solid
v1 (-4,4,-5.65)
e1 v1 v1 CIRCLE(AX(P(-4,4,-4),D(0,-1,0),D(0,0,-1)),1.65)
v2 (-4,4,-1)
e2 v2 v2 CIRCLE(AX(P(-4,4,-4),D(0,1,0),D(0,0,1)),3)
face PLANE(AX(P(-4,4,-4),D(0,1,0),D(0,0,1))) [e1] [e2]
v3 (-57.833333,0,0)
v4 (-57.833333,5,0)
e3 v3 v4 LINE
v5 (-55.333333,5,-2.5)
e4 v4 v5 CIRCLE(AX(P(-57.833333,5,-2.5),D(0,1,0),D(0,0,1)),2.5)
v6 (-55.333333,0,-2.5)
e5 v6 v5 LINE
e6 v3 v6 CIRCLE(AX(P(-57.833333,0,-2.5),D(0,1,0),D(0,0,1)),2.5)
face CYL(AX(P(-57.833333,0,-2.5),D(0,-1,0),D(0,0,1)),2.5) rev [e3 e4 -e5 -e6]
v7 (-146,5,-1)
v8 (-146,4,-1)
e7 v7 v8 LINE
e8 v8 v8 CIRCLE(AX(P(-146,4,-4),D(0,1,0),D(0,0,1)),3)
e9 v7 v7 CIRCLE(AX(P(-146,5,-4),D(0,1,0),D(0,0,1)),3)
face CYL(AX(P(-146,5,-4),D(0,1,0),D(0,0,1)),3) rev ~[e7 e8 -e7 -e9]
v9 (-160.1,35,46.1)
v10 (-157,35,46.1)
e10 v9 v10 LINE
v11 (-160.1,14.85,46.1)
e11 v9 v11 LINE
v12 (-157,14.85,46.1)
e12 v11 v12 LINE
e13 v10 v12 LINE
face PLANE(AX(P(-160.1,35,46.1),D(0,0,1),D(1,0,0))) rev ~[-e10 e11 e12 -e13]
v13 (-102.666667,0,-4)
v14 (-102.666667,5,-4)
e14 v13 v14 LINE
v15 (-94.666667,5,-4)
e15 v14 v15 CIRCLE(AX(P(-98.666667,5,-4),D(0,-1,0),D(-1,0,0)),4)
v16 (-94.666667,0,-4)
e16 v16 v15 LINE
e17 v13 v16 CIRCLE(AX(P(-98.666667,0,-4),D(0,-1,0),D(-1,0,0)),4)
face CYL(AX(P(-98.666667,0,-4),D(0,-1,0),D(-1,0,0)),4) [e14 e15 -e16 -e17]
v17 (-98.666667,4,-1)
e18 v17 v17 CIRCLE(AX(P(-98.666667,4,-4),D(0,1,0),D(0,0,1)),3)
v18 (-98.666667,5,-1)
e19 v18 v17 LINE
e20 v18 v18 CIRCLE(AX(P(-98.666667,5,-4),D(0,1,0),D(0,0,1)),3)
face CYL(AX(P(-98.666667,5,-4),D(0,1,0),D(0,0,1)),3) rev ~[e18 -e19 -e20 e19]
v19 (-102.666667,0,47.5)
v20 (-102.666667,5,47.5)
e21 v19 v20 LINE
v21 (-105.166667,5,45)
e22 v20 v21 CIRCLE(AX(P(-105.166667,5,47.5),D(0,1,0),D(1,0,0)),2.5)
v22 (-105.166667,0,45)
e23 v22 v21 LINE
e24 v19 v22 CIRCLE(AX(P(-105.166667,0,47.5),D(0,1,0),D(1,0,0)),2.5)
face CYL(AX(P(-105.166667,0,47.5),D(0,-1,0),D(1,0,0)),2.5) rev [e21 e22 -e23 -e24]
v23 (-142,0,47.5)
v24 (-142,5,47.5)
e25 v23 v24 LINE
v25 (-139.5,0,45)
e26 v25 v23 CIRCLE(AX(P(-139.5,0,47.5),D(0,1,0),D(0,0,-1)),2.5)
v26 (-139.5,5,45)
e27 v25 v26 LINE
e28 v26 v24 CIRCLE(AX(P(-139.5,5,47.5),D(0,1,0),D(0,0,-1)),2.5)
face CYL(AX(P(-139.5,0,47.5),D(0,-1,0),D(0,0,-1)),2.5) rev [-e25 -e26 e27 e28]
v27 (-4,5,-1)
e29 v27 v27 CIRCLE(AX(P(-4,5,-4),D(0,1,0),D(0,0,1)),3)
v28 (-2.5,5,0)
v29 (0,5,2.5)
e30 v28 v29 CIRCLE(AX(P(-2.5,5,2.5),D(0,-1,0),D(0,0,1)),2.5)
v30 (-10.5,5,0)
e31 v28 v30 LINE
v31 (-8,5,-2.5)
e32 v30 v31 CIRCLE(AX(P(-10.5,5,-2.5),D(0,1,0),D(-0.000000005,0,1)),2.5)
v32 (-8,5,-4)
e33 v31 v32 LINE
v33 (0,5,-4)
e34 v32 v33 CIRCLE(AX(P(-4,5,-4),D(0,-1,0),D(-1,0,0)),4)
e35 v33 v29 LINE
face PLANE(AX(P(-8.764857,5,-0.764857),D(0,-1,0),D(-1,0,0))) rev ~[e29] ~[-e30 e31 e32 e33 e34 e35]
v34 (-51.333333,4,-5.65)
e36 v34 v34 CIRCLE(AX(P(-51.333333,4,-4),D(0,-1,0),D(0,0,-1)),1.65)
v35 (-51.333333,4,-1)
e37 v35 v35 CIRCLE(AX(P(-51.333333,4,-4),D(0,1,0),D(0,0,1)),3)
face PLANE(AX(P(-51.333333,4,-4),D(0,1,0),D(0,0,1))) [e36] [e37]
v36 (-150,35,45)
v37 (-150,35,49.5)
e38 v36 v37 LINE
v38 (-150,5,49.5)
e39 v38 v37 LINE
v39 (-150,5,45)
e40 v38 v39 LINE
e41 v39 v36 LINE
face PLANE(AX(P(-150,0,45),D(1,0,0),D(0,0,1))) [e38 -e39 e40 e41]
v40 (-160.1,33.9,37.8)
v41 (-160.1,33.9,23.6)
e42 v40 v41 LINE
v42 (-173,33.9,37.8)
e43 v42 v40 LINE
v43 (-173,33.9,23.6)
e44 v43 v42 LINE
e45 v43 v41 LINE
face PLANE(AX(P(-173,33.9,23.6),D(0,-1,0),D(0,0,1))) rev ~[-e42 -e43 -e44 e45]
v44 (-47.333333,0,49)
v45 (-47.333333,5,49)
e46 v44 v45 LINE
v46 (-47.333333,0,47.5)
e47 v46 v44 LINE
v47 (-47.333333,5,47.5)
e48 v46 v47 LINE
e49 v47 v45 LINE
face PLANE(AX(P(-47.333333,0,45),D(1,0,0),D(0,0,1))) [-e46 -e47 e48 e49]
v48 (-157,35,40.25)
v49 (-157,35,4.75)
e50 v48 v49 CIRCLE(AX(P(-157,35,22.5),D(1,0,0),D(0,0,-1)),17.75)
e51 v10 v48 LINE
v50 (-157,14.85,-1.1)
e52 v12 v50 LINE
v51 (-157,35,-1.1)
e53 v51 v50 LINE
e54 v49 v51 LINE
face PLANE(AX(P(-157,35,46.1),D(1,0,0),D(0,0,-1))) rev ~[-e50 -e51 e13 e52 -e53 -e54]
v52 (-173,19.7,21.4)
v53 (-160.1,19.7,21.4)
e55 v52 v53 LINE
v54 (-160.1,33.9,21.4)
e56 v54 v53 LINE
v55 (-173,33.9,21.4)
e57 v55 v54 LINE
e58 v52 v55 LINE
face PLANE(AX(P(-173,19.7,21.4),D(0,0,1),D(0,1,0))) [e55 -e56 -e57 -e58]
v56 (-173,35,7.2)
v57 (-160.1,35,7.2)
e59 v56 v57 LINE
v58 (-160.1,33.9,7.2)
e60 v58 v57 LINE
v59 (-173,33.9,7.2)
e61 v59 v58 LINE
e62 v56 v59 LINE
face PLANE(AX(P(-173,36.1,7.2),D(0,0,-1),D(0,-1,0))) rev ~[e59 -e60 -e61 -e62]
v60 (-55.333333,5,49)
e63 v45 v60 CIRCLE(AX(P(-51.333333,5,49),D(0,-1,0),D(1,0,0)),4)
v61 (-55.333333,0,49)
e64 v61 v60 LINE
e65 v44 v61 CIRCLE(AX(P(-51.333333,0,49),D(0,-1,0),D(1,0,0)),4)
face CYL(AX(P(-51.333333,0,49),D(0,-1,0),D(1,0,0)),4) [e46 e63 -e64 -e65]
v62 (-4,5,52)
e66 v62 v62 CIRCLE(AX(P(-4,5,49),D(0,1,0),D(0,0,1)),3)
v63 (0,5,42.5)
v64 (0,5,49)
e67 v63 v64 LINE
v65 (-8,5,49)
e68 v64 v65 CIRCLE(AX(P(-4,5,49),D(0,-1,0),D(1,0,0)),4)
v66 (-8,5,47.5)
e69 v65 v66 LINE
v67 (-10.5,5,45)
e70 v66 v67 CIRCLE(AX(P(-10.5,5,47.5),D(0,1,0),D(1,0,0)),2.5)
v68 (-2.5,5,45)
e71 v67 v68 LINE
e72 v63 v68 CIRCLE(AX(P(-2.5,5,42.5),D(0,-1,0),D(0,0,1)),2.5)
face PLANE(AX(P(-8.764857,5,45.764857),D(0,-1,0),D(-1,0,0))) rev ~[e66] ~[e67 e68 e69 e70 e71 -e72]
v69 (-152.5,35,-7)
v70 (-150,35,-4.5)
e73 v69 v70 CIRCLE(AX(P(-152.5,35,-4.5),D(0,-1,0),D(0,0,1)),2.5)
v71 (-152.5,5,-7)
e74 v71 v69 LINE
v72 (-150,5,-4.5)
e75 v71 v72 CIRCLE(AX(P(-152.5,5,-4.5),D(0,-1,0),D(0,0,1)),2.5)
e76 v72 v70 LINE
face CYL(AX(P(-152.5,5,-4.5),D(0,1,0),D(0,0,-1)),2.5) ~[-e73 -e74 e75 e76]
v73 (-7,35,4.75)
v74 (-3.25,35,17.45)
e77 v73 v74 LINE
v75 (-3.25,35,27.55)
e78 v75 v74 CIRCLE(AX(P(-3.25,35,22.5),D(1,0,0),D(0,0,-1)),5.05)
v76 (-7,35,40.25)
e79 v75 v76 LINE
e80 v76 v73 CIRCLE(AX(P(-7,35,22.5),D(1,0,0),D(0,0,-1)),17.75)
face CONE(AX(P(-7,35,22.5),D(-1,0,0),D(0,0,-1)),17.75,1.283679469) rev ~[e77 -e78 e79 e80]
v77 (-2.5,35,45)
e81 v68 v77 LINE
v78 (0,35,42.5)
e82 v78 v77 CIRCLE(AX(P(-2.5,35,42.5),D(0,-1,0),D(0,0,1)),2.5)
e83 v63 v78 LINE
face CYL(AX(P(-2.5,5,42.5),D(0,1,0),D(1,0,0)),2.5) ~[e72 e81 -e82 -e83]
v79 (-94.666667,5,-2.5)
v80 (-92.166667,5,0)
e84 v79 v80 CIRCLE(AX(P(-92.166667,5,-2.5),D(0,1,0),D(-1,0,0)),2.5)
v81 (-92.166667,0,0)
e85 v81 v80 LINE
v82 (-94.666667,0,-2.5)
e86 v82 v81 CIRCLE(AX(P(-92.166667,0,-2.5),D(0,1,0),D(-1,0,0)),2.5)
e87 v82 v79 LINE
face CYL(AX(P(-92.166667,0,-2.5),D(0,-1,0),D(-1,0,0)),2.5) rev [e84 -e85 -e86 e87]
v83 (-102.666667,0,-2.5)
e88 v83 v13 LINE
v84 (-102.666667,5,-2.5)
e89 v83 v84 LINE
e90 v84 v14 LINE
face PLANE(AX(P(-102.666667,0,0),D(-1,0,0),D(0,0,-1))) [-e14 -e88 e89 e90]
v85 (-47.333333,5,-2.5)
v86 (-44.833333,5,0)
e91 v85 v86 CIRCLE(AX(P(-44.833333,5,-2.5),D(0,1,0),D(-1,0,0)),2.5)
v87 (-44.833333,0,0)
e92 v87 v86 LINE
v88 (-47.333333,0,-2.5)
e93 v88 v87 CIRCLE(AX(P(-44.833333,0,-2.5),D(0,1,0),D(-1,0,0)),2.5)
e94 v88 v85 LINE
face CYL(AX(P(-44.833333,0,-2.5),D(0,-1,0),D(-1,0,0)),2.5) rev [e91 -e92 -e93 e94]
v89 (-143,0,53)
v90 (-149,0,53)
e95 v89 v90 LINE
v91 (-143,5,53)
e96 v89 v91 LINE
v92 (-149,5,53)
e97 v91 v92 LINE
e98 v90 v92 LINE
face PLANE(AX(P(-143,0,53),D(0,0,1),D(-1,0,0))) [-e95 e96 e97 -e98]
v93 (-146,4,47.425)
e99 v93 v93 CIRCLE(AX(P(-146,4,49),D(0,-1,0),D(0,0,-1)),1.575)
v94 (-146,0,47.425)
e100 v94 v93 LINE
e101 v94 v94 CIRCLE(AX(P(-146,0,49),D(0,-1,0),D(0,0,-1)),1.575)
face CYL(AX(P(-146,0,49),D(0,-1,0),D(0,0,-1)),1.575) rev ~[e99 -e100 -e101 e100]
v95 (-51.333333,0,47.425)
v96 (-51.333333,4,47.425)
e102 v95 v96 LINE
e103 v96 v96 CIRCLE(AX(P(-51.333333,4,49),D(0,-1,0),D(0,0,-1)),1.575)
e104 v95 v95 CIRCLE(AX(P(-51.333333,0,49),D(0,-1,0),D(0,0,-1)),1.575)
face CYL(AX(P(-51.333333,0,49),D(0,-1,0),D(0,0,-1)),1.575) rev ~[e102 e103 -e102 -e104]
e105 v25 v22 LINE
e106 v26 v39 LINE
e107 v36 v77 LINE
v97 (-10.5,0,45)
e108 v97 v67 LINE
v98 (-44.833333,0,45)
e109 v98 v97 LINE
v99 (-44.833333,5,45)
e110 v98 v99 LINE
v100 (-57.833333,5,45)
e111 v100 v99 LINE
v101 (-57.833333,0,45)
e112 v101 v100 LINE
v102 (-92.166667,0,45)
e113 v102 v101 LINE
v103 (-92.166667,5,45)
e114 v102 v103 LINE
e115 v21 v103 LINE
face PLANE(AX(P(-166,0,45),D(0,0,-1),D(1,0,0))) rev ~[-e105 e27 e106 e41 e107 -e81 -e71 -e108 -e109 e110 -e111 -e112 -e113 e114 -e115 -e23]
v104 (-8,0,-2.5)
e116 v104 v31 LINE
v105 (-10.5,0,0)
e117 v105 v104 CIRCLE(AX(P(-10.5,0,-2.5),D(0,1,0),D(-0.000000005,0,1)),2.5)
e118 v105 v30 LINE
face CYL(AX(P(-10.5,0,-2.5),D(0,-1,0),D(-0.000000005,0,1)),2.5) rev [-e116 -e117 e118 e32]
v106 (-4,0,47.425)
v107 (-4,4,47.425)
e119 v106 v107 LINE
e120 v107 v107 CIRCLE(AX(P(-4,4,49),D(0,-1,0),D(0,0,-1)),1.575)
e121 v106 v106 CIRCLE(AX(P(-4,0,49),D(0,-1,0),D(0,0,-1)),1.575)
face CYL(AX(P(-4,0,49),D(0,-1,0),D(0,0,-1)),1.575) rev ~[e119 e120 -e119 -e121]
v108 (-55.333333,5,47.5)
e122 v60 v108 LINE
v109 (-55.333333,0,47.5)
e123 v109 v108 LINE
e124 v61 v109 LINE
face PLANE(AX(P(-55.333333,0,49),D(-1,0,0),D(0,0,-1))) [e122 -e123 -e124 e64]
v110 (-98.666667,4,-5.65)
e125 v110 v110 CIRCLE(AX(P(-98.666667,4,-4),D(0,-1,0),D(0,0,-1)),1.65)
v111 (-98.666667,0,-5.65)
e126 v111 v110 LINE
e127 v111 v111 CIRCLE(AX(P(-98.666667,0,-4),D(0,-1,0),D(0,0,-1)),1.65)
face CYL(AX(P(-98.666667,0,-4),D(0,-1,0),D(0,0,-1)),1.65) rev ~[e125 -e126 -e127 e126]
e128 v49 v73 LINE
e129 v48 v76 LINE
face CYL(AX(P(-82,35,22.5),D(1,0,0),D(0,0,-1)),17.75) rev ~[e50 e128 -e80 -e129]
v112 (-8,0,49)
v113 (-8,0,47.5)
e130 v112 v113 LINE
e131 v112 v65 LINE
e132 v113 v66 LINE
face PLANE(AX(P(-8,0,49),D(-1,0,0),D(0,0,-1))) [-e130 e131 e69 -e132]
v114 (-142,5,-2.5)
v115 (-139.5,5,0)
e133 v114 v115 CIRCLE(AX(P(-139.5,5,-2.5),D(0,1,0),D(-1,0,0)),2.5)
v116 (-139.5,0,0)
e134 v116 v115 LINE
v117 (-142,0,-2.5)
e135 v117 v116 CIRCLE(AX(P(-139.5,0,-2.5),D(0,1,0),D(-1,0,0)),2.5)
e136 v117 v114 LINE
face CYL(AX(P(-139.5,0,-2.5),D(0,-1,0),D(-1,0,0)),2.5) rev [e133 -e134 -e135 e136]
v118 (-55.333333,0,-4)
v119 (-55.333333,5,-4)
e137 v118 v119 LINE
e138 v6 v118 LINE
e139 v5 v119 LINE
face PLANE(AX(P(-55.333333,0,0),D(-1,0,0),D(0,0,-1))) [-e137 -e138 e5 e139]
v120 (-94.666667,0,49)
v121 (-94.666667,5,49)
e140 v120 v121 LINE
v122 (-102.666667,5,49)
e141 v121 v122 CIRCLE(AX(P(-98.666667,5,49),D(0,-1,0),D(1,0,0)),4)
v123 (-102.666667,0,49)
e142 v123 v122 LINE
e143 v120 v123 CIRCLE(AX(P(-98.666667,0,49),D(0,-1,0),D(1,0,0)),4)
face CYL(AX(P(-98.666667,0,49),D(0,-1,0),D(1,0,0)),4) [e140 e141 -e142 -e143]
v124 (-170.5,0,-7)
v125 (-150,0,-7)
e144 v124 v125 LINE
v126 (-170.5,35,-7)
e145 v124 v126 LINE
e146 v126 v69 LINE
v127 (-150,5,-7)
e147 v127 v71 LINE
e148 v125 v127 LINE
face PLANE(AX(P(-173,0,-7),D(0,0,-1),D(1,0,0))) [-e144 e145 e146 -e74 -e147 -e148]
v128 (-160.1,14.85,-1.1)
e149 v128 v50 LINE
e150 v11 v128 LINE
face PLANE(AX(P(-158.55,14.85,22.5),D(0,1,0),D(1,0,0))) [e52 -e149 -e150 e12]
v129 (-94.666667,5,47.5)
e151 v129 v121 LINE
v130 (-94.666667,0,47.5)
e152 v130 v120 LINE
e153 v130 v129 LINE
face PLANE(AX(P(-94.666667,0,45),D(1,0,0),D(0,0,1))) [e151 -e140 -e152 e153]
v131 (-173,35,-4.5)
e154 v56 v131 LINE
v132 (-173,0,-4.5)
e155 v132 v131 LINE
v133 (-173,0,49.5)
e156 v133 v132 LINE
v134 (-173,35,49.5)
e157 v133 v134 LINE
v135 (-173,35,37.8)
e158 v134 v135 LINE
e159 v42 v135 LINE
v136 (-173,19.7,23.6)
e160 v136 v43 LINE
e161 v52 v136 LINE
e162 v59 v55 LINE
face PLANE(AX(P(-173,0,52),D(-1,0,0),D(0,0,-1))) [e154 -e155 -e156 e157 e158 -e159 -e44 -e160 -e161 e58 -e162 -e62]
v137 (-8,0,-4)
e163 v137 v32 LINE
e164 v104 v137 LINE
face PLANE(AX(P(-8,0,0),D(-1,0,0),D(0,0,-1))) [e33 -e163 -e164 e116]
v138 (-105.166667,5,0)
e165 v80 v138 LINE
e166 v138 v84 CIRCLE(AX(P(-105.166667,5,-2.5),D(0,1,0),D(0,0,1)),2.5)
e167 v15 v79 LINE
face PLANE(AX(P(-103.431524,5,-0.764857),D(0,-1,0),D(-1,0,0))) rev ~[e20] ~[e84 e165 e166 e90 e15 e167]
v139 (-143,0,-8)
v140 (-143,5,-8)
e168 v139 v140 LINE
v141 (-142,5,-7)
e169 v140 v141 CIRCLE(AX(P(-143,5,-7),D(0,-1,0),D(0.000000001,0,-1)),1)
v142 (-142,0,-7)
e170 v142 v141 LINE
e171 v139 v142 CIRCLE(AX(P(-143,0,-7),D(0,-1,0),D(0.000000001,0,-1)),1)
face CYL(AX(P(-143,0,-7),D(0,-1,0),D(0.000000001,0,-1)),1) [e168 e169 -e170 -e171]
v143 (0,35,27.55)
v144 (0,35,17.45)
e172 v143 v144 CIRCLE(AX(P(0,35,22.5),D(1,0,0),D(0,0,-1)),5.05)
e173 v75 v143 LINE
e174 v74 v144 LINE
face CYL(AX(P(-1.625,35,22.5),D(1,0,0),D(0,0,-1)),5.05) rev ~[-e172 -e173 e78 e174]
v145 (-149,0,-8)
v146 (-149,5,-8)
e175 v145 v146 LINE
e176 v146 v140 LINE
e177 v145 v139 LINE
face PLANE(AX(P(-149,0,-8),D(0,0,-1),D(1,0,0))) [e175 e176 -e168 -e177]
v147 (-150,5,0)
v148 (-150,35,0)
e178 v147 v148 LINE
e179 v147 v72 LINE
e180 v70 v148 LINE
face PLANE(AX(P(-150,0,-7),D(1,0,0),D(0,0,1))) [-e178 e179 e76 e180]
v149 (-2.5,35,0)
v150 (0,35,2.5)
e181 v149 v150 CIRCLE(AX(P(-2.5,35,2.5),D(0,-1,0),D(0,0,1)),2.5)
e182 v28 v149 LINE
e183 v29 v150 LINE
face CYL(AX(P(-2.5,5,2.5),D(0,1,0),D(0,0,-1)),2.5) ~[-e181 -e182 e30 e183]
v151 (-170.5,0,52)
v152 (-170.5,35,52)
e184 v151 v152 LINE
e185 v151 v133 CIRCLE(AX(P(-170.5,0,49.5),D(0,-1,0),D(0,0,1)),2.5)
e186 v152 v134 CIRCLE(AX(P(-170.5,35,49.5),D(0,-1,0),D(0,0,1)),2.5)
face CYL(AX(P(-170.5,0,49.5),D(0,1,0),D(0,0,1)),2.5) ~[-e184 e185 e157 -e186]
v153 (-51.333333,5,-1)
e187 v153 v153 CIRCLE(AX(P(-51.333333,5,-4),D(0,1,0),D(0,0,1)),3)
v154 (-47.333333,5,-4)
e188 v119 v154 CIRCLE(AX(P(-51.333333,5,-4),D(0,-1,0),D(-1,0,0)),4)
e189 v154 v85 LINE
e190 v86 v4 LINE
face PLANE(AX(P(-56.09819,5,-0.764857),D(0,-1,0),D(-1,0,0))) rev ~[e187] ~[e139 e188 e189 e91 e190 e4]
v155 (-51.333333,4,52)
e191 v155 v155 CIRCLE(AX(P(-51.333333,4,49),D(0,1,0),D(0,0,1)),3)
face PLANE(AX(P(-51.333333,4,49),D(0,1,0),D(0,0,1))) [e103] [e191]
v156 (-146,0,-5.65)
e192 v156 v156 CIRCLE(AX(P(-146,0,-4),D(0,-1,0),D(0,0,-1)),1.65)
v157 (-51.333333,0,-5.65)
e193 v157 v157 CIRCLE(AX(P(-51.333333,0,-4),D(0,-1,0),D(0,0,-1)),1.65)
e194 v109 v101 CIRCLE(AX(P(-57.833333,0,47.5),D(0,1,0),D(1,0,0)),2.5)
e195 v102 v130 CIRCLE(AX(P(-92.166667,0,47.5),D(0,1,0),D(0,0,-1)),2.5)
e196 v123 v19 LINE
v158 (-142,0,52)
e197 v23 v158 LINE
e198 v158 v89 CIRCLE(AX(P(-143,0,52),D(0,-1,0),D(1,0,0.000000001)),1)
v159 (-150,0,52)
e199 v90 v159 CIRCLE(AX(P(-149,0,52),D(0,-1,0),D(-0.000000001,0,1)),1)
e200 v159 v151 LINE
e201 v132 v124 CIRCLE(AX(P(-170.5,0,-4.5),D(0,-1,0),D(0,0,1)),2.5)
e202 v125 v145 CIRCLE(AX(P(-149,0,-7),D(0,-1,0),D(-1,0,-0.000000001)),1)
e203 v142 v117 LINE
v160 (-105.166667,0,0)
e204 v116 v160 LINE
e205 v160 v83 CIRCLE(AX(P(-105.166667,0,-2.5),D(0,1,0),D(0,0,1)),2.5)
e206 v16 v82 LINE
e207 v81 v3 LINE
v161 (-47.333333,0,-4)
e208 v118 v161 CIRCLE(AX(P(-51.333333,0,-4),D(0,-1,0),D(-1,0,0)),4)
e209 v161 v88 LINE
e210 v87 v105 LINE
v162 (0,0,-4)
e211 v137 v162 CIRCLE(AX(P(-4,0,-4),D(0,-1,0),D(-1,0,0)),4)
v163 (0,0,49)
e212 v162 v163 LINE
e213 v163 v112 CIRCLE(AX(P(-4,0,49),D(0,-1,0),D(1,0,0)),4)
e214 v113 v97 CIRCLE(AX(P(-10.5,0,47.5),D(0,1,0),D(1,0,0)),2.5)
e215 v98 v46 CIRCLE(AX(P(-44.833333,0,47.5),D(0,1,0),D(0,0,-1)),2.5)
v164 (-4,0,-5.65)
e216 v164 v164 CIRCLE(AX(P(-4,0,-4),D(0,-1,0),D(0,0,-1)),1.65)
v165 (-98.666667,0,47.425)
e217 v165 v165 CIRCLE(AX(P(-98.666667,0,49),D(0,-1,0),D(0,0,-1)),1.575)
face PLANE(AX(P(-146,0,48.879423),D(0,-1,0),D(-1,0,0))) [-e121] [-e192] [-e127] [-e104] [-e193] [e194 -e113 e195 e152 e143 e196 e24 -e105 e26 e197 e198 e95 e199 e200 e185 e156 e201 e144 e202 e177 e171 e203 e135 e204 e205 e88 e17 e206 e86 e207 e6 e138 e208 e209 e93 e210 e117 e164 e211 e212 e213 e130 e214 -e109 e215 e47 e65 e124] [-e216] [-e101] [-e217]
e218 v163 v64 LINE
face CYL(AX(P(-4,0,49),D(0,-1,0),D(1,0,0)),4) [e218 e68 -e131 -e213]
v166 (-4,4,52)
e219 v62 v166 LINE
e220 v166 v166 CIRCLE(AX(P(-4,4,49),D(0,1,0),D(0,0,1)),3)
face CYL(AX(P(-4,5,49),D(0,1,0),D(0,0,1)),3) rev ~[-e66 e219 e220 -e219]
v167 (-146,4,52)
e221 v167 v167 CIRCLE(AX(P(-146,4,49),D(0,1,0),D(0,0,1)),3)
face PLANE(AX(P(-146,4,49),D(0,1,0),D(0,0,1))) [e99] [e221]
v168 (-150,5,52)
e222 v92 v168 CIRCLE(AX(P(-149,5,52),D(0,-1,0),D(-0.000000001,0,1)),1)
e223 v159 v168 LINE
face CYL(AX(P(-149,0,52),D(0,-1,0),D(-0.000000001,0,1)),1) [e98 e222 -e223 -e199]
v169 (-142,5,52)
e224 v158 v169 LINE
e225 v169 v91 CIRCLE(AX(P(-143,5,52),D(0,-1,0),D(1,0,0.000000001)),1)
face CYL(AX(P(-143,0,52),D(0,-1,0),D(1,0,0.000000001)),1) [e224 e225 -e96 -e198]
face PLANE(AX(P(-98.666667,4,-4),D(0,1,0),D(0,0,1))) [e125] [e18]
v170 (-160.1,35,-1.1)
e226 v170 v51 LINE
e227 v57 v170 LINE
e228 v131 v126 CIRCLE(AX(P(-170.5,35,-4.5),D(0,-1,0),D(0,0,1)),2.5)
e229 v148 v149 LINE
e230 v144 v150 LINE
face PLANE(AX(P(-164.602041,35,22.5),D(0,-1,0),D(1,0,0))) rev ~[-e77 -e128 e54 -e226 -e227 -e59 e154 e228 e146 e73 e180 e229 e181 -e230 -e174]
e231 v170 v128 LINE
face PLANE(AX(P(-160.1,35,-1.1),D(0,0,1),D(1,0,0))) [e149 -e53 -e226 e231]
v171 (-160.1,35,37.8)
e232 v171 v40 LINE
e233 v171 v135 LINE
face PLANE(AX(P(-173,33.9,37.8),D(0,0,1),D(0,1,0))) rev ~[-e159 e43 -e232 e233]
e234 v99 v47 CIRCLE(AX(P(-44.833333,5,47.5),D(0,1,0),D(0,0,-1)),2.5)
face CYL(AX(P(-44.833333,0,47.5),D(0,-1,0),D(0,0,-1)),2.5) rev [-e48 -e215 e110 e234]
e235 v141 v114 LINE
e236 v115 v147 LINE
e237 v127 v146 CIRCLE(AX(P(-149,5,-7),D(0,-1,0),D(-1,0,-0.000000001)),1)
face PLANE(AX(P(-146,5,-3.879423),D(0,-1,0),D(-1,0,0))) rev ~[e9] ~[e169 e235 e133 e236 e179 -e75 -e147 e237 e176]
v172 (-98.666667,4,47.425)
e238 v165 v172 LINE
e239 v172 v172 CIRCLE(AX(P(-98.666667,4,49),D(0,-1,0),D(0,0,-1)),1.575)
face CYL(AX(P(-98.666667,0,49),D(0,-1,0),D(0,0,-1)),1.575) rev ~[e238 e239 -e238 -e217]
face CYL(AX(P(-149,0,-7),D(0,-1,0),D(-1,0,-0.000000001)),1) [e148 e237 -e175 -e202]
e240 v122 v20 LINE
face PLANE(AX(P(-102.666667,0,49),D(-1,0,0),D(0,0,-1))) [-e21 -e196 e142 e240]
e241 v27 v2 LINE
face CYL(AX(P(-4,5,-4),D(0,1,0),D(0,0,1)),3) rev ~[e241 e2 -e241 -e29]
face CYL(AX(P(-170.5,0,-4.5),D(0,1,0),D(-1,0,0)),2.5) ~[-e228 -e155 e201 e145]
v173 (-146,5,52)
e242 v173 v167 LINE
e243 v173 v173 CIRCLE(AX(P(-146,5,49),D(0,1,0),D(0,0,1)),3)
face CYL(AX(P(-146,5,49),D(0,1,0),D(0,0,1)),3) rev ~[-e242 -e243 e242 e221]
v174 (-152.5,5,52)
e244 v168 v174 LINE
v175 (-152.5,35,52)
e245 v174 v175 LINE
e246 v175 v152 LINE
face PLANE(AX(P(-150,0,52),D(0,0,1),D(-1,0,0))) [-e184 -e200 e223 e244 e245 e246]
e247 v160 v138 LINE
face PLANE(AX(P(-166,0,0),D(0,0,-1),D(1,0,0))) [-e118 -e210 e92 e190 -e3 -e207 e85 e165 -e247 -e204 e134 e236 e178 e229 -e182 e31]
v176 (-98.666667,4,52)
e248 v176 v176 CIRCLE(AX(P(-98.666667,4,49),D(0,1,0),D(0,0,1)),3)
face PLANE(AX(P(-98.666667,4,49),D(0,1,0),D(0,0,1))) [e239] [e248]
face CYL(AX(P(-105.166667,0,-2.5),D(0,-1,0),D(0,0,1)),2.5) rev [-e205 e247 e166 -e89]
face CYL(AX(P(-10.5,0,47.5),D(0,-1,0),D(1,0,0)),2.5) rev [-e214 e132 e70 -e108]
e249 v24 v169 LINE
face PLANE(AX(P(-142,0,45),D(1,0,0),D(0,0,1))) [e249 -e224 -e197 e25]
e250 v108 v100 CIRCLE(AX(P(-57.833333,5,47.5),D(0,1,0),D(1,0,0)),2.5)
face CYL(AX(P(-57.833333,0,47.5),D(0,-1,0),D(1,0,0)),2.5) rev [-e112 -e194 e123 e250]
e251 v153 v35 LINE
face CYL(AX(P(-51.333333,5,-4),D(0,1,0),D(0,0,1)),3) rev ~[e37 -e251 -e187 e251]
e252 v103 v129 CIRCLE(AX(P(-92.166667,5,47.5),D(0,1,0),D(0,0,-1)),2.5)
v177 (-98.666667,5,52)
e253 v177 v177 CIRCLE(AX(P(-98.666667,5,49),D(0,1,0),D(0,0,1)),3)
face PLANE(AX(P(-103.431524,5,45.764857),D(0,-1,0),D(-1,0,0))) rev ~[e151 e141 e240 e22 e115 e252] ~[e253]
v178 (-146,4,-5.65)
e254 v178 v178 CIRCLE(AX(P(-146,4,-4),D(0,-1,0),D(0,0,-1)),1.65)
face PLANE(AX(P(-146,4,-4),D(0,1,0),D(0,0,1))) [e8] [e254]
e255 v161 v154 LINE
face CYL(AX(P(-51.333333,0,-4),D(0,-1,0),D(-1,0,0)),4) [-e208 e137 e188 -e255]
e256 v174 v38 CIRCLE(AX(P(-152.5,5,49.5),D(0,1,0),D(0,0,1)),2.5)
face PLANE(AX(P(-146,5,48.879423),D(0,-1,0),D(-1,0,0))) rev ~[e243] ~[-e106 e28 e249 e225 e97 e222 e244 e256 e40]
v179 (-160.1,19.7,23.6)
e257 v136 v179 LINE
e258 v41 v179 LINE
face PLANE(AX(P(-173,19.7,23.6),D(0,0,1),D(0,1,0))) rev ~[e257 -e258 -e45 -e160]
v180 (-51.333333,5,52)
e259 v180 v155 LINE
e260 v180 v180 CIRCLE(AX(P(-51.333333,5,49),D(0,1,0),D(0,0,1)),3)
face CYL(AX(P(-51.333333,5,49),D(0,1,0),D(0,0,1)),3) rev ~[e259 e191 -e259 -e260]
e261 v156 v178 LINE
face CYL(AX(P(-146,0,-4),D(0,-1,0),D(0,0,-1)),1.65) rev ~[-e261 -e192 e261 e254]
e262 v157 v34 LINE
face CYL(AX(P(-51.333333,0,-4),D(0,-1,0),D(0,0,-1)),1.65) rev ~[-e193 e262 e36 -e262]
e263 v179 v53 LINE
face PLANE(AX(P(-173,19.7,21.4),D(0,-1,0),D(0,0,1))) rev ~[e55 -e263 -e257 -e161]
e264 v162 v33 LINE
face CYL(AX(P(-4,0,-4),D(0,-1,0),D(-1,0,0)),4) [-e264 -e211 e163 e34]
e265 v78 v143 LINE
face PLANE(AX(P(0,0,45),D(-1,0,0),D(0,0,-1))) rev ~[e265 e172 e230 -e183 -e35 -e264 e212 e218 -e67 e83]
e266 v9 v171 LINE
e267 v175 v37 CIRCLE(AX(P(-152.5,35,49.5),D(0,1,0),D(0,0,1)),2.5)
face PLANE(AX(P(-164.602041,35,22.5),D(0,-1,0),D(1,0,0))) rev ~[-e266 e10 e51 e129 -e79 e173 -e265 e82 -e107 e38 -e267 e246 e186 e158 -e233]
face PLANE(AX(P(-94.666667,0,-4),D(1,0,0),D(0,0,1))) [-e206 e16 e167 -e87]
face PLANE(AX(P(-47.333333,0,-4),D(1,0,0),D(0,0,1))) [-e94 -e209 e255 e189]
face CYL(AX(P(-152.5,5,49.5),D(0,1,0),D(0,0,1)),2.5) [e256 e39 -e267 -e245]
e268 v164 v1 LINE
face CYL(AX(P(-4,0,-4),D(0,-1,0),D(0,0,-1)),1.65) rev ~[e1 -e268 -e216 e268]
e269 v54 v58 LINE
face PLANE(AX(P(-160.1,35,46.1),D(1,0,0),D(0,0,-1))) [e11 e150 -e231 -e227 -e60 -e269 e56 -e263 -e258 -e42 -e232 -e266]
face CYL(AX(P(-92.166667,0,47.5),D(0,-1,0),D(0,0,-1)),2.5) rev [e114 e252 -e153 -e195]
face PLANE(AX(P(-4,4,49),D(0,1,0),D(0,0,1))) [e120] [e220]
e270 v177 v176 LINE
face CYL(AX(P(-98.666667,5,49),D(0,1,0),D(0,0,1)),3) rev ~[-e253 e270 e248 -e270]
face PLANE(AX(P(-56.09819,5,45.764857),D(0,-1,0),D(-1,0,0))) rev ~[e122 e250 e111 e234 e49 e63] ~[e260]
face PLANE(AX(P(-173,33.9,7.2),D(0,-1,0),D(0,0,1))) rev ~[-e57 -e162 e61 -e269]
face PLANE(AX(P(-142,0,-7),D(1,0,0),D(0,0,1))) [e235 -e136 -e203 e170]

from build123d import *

# Parameters (mm, degrees)
SKETCH2_W           = 166
SKETCH2_H           = 45
BOSS_EXTRUDE1_DEPTH = 35
SKETCH3_W           = 150
SKETCH3_H           = 17.75
SKETCH3_W_2         = 3.25
SKETCH3_H_2         = 5.05
BOSS_EXTRUDE4_DEPTH = 35
SKETCH8_W           = 3.1
SKETCH8_H           = 47.2
CUT_EXTRUDE2_DEPTH  = 20.15
SKETCH9_W           = 2.2
SKETCH9_H           = 14.2
SKETCH9_W_2         = 14.2
SKETCH9_H_2         = 1.1
CUT_EXTRUDE4_DEPTH  = 20.15
SKETCH11_R          = 3
SKETCH11_R_2        = 1.575
SKETCH11_R_3        = 1.65
BOSS_EXTRUDE5_DEPTH = 5
SKETCH12_R          = 3
CUT_EXTRUDE6_DEPTH  = 1
FILLET1_R           = 2.5


with BuildPart() as part:
    # Sketch2 → Boss-Extrude1 (new body)
    with BuildSketch(Plane(origin=(0, 0, 0), x_dir=(1, 0, 0), z_dir=(0, 1, 0))):
        with Locations((-83, -22.5)):
            Rectangle(SKETCH2_W, SKETCH2_H)
    extrude(amount=BOSS_EXTRUDE1_DEPTH)

    # Sketch3 → Cut-Revolve1 (revolve, cut)
    with BuildSketch(Plane(origin=(0, 35, 0), x_dir=(1, 0, 0), z_dir=(0, 1, 0))):
        with Locations((-82, -13.625)):
            Rectangle(SKETCH3_W, SKETCH3_H)
        Polygon((-7, -22.5), (-7, -4.75), (-3.25, -17.45), (-3.25, -22.5), align=None)
        with Locations((-1.625, -19.975)):
            Rectangle(SKETCH3_W_2, SKETCH3_H_2)
    revolve(axis=Axis((-166, 35, 22.5), (1, 0, 0)), mode=Mode.SUBTRACT)

    # Sketch6 → Boss-Extrude4 (add)
    with BuildSketch(Plane.XZ):
        Polygon((-150, 45), (-150, 52), (-173, 52), (-173, -7), (-150, -7), (-150, 0), (-166, 0), (-166, 45), align=None)
    extrude(amount=-BOSS_EXTRUDE4_DEPTH)

    # Sketch8 → Cut-Extrude2 (cut)
    with BuildSketch(Plane(origin=(0, 35, 0), x_dir=(1, 0, 0), z_dir=(0, 1, 0))):
        with Locations((-158.55, -22.5)):
            Rectangle(SKETCH8_W, SKETCH8_H)
    extrude(amount=-CUT_EXTRUDE2_DEPTH, mode=Mode.SUBTRACT)

    # Sketch9 → Cut-Extrude4 (cut)
    with BuildSketch(Plane.ZY.offset(173)):
        with Locations((22.5, 43.2)):
            Rectangle(SKETCH9_W, SKETCH9_H)
        with Locations((14.3, 34.45)):
            Rectangle(SKETCH9_W_2, SKETCH9_H_2)
        with Locations((22.5, 34.45)):
            Rectangle(SKETCH9_W, SKETCH9_H_2)
        with Locations((30.7, 34.45)):
            Rectangle(SKETCH9_W_2, SKETCH9_H_2)
        with Locations((30.7, 35.55)):
            Rectangle(SKETCH9_W_2, SKETCH9_H_2)
        with Locations((14.3, 35.55)):
            Rectangle(SKETCH9_W_2, SKETCH9_H_2)
        with Locations((22.5, 35.55)):
            Rectangle(SKETCH9_W, SKETCH9_H_2)
        with Locations((22.5, 26.8)):
            Rectangle(SKETCH9_W, SKETCH9_H)
    extrude(amount=-CUT_EXTRUDE4_DEPTH, mode=Mode.SUBTRACT)

    # Sketch11 → Boss-Extrude5 (add)
    # profile 1 of 21: a face of its own
    with BuildSketch(Plane(origin=(0, 0, 0), x_dir=(-1, 0, 0), z_dir=(0, -1, 0))):
        with BuildLine():
            ThreePointArc((142, -52), (142.292893219, -52.707106781), (143, -53))
            Line((143, -53), (149, -53))
            ThreePointArc((149, -53), (149.707106781, -52.707106781), (150, -52))
            Line((150, -52), (150, -45))
            Line((150, -45), (142, -45))
            Line((142, -45), (142, -47.5))
            Line((142, -47.5), (142, -52))
        make_face()
        with Locations((146, -49)):
            Circle(SKETCH11_R, mode=Mode.SUBTRACT)
    # profile 2 of 21: a face of its own
    with BuildSketch(Plane(origin=(0, 0, 0), x_dir=(-1, 0, 0), z_dir=(0, -1, 0))):
        with Locations((146, -49)):
            Circle(SKETCH11_R)
        with Locations(Location((146, -49, 0), (0, 0, 90))):
            Circle(SKETCH11_R_2, mode=Mode.SUBTRACT)
    # profile 3 of 21: a face of its own
    with BuildSketch(Plane(origin=(0, 0, 0), x_dir=(-1, 0, 0), z_dir=(0, -1, 0))):
        with BuildLine():
            ThreePointArc((139.5, -45), (141.267766953, -45.732233047), (142, -47.5))
            Line((142, -47.5), (142, -45))
            Line((142, -45), (139.5, -45))
        make_face()
    # profile 4 of 21: a face of its own
    with BuildSketch(Plane(origin=(0, 0, 0), x_dir=(-1, 0, 0), z_dir=(0, -1, 0))):
        with BuildLine():
            ThreePointArc((102.666666667, -47.5), (103.398899714, -45.732233047), (105.166666667, -45))
            Line((105.166666667, -45), (102.666666667, -45))
            Line((102.666666667, -45), (102.666666667, -47.5))
        make_face()
    # profile 5 of 21: a face of its own
    with BuildSketch(Plane(origin=(0, 0, 0), x_dir=(-1, 0, 0), z_dir=(0, -1, 0))):
        with BuildLine():
            Line((102.666666667, -47.5), (102.666666667, -45))
            Line((102.666666667, -45), (94.666666667, -45))
            Line((94.666666667, -45), (94.666666667, -47.5))
            Line((94.666666667, -47.5), (94.666666667, -49))
            ThreePointArc((94.666666667, -49), (98.666666667, -53), (102.666666667, -49))
            Line((102.666666667, -49), (102.666666667, -47.5))
        make_face()
        with Locations(Location((98.666666667, -49, 0), (0, 0, 90))):
            Circle(SKETCH11_R_2, mode=Mode.SUBTRACT)
    # profile 6 of 21: a face of its own
    with BuildSketch(Plane(origin=(0, 0, 0), x_dir=(-1, 0, 0), z_dir=(0, -1, 0))):
        with BuildLine():
            Line((94.666666667, -47.5), (94.666666667, -45))
            Line((94.666666667, -45), (92.166666667, -45))
            ThreePointArc((92.166666667, -45), (93.93443362, -45.732233047), (94.666666667, -47.5))
        make_face()
    # profile 7 of 21: a face of its own
    with BuildSketch(Plane(origin=(0, 0, 0), x_dir=(-1, 0, 0), z_dir=(0, -1, 0))):
        with BuildLine():
            ThreePointArc((55.333333333, -47.5), (56.06556638, -45.732233047), (57.833333333, -45))
            Line((57.833333333, -45), (55.333333333, -45))
            Line((55.333333333, -45), (55.333333333, -47.5))
        make_face()
    # profile 8 of 21: a face of its own
    with BuildSketch(Plane(origin=(0, 0, 0), x_dir=(-1, 0, 0), z_dir=(0, -1, 0))):
        with BuildLine():
            Line((55.333333333, -47.5), (55.333333333, -45))
            Line((55.333333333, -45), (47.333333333, -45))
            Line((47.333333333, -45), (47.333333333, -47.5))
            Line((47.333333333, -47.5), (47.333333333, -49))
            ThreePointArc((47.333333333, -49), (51.333333333, -53), (55.333333333, -49))
            Line((55.333333333, -49), (55.333333333, -47.5))
        make_face()
        with Locations(Location((51.333333333, -49, 0), (0, 0, 90))):
            Circle(SKETCH11_R_2, mode=Mode.SUBTRACT)
    # profile 9 of 21: a face of its own
    with BuildSketch(Plane(origin=(0, 0, 0), x_dir=(-1, 0, 0), z_dir=(0, -1, 0))):
        with BuildLine():
            Line((47.333333333, -47.5), (47.333333333, -45))
            Line((47.333333333, -45), (44.833333333, -45))
            ThreePointArc((44.833333333, -45), (46.601100286, -45.732233047), (47.333333333, -47.5))
        make_face()
    # profile 10 of 21: a face of its own
    with BuildSketch(Plane(origin=(0, 0, 0), x_dir=(-1, 0, 0), z_dir=(0, -1, 0))):
        with BuildLine():
            ThreePointArc((8, -47.5), (8.732233047, -45.732233047), (10.5, -45))
            Line((10.5, -45), (8, -45))
            Line((8, -45), (8, -47.5))
        make_face()
    # profile 11 of 21: a face of its own
    with BuildSketch(Plane(origin=(0, 0, 0), x_dir=(-1, 0, 0), z_dir=(0, -1, 0))):
        with BuildLine():
            Line((8, -47.5), (8, -45))
            Line((8, -45), (0, -45))
            Line((0, -45), (0, -49))
            ThreePointArc((0, -49), (4, -53), (8, -49))
            Line((8, -49), (8, -47.5))
        make_face()
        with Locations(Location((4, -49, 0), (0, 0, 90))):
            Circle(SKETCH11_R_2, mode=Mode.SUBTRACT)
    # profile 12 of 21: a face of its own
    with BuildSketch(Plane(origin=(0, 0, 0), x_dir=(-1, 0, 0), z_dir=(0, -1, 0))):
        with BuildLine():
            Line((0, 0), (8, 0))
            Line((8, 0), (8, 2.499999984))
            Line((8, 2.499999984), (8, 4))
            ThreePointArc((8, 4), (4, 8), (0, 4))
            Line((0, 4), (0, 0))
        make_face()
        with Locations(Location((4, 4, 0), (0, 0, 90))):
            Circle(SKETCH11_R_3, mode=Mode.SUBTRACT)
    # profile 13 of 21: a face of its own
    with BuildSketch(Plane(origin=(0, 0, 0), x_dir=(-1, 0, 0), z_dir=(0, -1, 0))):
        with BuildLine():
            Line((8, 0), (10.500000012, 0))
            ThreePointArc((10.500000012, 0), (8.732233057, 0.732233037), (8, 2.499999984))
            Line((8, 2.499999984), (8, 0))
        make_face()
    # profile 14 of 21: a face of its own
    with BuildSketch(Plane(origin=(0, 0, 0), x_dir=(-1, 0, 0), z_dir=(0, -1, 0))):
        with BuildLine():
            Line((44.833333315, 0), (47.333333333, 0))
            Line((47.333333333, 0), (47.333333333, 2.5))
            ThreePointArc((47.333333333, 2.5), (46.60110028, 0.732233041), (44.833333315, 0))
        make_face()
    # profile 15 of 21: a face of its own
    with BuildSketch(Plane(origin=(0, 0, 0), x_dir=(-1, 0, 0), z_dir=(0, -1, 0))):
        with BuildLine():
            Line((47.333333333, 0), (55.333333333, 0))
            Line((55.333333333, 0), (55.333333333, 2.499999938))
            Line((55.333333333, 2.499999938), (55.333333333, 4))
            ThreePointArc((55.333333333, 4), (51.333333333, 8), (47.333333333, 4))
            Line((47.333333333, 4), (47.333333333, 2.5))
            Line((47.333333333, 2.5), (47.333333333, 0))
        make_face()
        with Locations(Location((51.333333333, 4, 0), (0, 0, 90))):
            Circle(SKETCH11_R_3, mode=Mode.SUBTRACT)
    # profile 16 of 21: a face of its own
    with BuildSketch(Plane(origin=(0, 0, 0), x_dir=(-1, 0, 0), z_dir=(0, -1, 0))):
        with BuildLine():
            Line((55.333333333, 0), (57.833333333, 0))
            ThreePointArc((57.833333333, 0), (56.065566402, 0.732233025), (55.333333333, 2.499999938))
            Line((55.333333333, 2.499999938), (55.333333333, 0))
        make_face()
    # profile 17 of 21: a face of its own
    with BuildSketch(Plane(origin=(0, 0, 0), x_dir=(-1, 0, 0), z_dir=(0, -1, 0))):
        with BuildLine():
            Line((92.166666667, 0), (94.666666667, 0))
            Line((94.666666667, 0), (94.666666667, 2.5))
            ThreePointArc((94.666666667, 2.5), (93.93443362, 0.732233047), (92.166666667, 0))
        make_face()
    # profile 18 of 21: a face of its own
    with BuildSketch(Plane(origin=(0, 0, 0), x_dir=(-1, 0, 0), z_dir=(0, -1, 0))):
        with BuildLine():
            Line((94.666666667, 0), (102.666666667, 0))
            Line((102.666666667, 0), (102.666666667, 2.499999973))
            Line((102.666666667, 2.499999973), (102.666666667, 4))
            ThreePointArc((102.666666667, 4), (98.666666667, 8), (94.666666667, 4))
            Line((94.666666667, 4), (94.666666667, 2.5))
            Line((94.666666667, 2.5), (94.666666667, 0))
        make_face()
        with Locations(Location((98.666666667, 4, 0), (0, 0, 90))):
            Circle(SKETCH11_R_3, mode=Mode.SUBTRACT)
    # profile 19 of 21: a face of its own
    with BuildSketch(Plane(origin=(0, 0, 0), x_dir=(-1, 0, 0), z_dir=(0, -1, 0))):
        with BuildLine():
            Line((102.666666667, 0), (105.166666667, 0))
            ThreePointArc((105.166666667, 0), (103.398899723, 0.732233038), (102.666666667, 2.499999973))
            Line((102.666666667, 2.499999973), (102.666666667, 0))
        make_face()
    # profile 20 of 21: a face of its own
    with BuildSketch(Plane(origin=(0, 0, 0), x_dir=(-1, 0, 0), z_dir=(0, -1, 0))):
        with BuildLine():
            Line((142, 0), (150, 0))
            Line((150, 0), (150, 7))
            ThreePointArc((150, 7), (149.707106781, 7.707106781), (149, 8))
            Line((149, 8), (143, 8))
            ThreePointArc((143, 8), (142.292893219, 7.707106781), (142, 7))
            Line((142, 7), (142, 2.5))
            Line((142, 2.5), (142, 0))
        make_face()
        with Locations(Location((146, 4, 0), (0, 0, 90))):
            Circle(SKETCH11_R_3, mode=Mode.SUBTRACT)
    # profile 21 of 21: a face of its own
    with BuildSketch(Plane(origin=(0, 0, 0), x_dir=(-1, 0, 0), z_dir=(0, -1, 0))):
        with BuildLine():
            Line((139.5, 0), (142, 0))
            Line((142, 0), (142, 2.5))
            ThreePointArc((142, 2.5), (141.267766953, 0.732233047), (139.5, 0))
        make_face()
    extrude(amount=-BOSS_EXTRUDE5_DEPTH)

    # Sketch12 → Cut-Extrude6 (cut)
    with BuildSketch(Plane(origin=(0, 5, 0), x_dir=(1, 0, 0), z_dir=(0, 1, 0))):
        with Locations(Location((-146, 4, 0), (0, 0, 270))):
            Circle(SKETCH12_R)
        with Locations(Location((-98.666666667, 4, 0), (0, 0, 270))):
            Circle(SKETCH12_R)
        with Locations(Location((-51.333333333, 4, 0), (0, 0, 270))):
            Circle(SKETCH12_R)
        with Locations(Location((-4, 4, 0), (0, 0, 270))):
            Circle(SKETCH12_R)
        with Locations(Location((-4, -49, 0), (0, 0, 270))):
            Circle(SKETCH12_R)
        with Locations(Location((-51.333333333, -49, 0), (0, 0, 270))):
            Circle(SKETCH12_R)
        with Locations(Location((-98.666666667, -49, 0), (0, 0, 270))):
            Circle(SKETCH12_R)
        with Locations(Location((-146, -49, 0), (0, 0, 270))):
            Circle(SKETCH12_R)
    extrude(amount=-CUT_EXTRUDE6_DEPTH, mode=Mode.SUBTRACT)

    # Fillet1
    fillet1_edges = [part.edges().sort_by_distance(p)[0] for p in [
        (-150, 20, -7),
        (-173, 17.5, -7),
        (-173, 17.5, 52),
        (-150, 20, 52),
        (0, 20, 45),
        (0, 20, 0),
    ]]
    fillet(fillet1_edges, radius=FILLET1_R)


solid = part.part
